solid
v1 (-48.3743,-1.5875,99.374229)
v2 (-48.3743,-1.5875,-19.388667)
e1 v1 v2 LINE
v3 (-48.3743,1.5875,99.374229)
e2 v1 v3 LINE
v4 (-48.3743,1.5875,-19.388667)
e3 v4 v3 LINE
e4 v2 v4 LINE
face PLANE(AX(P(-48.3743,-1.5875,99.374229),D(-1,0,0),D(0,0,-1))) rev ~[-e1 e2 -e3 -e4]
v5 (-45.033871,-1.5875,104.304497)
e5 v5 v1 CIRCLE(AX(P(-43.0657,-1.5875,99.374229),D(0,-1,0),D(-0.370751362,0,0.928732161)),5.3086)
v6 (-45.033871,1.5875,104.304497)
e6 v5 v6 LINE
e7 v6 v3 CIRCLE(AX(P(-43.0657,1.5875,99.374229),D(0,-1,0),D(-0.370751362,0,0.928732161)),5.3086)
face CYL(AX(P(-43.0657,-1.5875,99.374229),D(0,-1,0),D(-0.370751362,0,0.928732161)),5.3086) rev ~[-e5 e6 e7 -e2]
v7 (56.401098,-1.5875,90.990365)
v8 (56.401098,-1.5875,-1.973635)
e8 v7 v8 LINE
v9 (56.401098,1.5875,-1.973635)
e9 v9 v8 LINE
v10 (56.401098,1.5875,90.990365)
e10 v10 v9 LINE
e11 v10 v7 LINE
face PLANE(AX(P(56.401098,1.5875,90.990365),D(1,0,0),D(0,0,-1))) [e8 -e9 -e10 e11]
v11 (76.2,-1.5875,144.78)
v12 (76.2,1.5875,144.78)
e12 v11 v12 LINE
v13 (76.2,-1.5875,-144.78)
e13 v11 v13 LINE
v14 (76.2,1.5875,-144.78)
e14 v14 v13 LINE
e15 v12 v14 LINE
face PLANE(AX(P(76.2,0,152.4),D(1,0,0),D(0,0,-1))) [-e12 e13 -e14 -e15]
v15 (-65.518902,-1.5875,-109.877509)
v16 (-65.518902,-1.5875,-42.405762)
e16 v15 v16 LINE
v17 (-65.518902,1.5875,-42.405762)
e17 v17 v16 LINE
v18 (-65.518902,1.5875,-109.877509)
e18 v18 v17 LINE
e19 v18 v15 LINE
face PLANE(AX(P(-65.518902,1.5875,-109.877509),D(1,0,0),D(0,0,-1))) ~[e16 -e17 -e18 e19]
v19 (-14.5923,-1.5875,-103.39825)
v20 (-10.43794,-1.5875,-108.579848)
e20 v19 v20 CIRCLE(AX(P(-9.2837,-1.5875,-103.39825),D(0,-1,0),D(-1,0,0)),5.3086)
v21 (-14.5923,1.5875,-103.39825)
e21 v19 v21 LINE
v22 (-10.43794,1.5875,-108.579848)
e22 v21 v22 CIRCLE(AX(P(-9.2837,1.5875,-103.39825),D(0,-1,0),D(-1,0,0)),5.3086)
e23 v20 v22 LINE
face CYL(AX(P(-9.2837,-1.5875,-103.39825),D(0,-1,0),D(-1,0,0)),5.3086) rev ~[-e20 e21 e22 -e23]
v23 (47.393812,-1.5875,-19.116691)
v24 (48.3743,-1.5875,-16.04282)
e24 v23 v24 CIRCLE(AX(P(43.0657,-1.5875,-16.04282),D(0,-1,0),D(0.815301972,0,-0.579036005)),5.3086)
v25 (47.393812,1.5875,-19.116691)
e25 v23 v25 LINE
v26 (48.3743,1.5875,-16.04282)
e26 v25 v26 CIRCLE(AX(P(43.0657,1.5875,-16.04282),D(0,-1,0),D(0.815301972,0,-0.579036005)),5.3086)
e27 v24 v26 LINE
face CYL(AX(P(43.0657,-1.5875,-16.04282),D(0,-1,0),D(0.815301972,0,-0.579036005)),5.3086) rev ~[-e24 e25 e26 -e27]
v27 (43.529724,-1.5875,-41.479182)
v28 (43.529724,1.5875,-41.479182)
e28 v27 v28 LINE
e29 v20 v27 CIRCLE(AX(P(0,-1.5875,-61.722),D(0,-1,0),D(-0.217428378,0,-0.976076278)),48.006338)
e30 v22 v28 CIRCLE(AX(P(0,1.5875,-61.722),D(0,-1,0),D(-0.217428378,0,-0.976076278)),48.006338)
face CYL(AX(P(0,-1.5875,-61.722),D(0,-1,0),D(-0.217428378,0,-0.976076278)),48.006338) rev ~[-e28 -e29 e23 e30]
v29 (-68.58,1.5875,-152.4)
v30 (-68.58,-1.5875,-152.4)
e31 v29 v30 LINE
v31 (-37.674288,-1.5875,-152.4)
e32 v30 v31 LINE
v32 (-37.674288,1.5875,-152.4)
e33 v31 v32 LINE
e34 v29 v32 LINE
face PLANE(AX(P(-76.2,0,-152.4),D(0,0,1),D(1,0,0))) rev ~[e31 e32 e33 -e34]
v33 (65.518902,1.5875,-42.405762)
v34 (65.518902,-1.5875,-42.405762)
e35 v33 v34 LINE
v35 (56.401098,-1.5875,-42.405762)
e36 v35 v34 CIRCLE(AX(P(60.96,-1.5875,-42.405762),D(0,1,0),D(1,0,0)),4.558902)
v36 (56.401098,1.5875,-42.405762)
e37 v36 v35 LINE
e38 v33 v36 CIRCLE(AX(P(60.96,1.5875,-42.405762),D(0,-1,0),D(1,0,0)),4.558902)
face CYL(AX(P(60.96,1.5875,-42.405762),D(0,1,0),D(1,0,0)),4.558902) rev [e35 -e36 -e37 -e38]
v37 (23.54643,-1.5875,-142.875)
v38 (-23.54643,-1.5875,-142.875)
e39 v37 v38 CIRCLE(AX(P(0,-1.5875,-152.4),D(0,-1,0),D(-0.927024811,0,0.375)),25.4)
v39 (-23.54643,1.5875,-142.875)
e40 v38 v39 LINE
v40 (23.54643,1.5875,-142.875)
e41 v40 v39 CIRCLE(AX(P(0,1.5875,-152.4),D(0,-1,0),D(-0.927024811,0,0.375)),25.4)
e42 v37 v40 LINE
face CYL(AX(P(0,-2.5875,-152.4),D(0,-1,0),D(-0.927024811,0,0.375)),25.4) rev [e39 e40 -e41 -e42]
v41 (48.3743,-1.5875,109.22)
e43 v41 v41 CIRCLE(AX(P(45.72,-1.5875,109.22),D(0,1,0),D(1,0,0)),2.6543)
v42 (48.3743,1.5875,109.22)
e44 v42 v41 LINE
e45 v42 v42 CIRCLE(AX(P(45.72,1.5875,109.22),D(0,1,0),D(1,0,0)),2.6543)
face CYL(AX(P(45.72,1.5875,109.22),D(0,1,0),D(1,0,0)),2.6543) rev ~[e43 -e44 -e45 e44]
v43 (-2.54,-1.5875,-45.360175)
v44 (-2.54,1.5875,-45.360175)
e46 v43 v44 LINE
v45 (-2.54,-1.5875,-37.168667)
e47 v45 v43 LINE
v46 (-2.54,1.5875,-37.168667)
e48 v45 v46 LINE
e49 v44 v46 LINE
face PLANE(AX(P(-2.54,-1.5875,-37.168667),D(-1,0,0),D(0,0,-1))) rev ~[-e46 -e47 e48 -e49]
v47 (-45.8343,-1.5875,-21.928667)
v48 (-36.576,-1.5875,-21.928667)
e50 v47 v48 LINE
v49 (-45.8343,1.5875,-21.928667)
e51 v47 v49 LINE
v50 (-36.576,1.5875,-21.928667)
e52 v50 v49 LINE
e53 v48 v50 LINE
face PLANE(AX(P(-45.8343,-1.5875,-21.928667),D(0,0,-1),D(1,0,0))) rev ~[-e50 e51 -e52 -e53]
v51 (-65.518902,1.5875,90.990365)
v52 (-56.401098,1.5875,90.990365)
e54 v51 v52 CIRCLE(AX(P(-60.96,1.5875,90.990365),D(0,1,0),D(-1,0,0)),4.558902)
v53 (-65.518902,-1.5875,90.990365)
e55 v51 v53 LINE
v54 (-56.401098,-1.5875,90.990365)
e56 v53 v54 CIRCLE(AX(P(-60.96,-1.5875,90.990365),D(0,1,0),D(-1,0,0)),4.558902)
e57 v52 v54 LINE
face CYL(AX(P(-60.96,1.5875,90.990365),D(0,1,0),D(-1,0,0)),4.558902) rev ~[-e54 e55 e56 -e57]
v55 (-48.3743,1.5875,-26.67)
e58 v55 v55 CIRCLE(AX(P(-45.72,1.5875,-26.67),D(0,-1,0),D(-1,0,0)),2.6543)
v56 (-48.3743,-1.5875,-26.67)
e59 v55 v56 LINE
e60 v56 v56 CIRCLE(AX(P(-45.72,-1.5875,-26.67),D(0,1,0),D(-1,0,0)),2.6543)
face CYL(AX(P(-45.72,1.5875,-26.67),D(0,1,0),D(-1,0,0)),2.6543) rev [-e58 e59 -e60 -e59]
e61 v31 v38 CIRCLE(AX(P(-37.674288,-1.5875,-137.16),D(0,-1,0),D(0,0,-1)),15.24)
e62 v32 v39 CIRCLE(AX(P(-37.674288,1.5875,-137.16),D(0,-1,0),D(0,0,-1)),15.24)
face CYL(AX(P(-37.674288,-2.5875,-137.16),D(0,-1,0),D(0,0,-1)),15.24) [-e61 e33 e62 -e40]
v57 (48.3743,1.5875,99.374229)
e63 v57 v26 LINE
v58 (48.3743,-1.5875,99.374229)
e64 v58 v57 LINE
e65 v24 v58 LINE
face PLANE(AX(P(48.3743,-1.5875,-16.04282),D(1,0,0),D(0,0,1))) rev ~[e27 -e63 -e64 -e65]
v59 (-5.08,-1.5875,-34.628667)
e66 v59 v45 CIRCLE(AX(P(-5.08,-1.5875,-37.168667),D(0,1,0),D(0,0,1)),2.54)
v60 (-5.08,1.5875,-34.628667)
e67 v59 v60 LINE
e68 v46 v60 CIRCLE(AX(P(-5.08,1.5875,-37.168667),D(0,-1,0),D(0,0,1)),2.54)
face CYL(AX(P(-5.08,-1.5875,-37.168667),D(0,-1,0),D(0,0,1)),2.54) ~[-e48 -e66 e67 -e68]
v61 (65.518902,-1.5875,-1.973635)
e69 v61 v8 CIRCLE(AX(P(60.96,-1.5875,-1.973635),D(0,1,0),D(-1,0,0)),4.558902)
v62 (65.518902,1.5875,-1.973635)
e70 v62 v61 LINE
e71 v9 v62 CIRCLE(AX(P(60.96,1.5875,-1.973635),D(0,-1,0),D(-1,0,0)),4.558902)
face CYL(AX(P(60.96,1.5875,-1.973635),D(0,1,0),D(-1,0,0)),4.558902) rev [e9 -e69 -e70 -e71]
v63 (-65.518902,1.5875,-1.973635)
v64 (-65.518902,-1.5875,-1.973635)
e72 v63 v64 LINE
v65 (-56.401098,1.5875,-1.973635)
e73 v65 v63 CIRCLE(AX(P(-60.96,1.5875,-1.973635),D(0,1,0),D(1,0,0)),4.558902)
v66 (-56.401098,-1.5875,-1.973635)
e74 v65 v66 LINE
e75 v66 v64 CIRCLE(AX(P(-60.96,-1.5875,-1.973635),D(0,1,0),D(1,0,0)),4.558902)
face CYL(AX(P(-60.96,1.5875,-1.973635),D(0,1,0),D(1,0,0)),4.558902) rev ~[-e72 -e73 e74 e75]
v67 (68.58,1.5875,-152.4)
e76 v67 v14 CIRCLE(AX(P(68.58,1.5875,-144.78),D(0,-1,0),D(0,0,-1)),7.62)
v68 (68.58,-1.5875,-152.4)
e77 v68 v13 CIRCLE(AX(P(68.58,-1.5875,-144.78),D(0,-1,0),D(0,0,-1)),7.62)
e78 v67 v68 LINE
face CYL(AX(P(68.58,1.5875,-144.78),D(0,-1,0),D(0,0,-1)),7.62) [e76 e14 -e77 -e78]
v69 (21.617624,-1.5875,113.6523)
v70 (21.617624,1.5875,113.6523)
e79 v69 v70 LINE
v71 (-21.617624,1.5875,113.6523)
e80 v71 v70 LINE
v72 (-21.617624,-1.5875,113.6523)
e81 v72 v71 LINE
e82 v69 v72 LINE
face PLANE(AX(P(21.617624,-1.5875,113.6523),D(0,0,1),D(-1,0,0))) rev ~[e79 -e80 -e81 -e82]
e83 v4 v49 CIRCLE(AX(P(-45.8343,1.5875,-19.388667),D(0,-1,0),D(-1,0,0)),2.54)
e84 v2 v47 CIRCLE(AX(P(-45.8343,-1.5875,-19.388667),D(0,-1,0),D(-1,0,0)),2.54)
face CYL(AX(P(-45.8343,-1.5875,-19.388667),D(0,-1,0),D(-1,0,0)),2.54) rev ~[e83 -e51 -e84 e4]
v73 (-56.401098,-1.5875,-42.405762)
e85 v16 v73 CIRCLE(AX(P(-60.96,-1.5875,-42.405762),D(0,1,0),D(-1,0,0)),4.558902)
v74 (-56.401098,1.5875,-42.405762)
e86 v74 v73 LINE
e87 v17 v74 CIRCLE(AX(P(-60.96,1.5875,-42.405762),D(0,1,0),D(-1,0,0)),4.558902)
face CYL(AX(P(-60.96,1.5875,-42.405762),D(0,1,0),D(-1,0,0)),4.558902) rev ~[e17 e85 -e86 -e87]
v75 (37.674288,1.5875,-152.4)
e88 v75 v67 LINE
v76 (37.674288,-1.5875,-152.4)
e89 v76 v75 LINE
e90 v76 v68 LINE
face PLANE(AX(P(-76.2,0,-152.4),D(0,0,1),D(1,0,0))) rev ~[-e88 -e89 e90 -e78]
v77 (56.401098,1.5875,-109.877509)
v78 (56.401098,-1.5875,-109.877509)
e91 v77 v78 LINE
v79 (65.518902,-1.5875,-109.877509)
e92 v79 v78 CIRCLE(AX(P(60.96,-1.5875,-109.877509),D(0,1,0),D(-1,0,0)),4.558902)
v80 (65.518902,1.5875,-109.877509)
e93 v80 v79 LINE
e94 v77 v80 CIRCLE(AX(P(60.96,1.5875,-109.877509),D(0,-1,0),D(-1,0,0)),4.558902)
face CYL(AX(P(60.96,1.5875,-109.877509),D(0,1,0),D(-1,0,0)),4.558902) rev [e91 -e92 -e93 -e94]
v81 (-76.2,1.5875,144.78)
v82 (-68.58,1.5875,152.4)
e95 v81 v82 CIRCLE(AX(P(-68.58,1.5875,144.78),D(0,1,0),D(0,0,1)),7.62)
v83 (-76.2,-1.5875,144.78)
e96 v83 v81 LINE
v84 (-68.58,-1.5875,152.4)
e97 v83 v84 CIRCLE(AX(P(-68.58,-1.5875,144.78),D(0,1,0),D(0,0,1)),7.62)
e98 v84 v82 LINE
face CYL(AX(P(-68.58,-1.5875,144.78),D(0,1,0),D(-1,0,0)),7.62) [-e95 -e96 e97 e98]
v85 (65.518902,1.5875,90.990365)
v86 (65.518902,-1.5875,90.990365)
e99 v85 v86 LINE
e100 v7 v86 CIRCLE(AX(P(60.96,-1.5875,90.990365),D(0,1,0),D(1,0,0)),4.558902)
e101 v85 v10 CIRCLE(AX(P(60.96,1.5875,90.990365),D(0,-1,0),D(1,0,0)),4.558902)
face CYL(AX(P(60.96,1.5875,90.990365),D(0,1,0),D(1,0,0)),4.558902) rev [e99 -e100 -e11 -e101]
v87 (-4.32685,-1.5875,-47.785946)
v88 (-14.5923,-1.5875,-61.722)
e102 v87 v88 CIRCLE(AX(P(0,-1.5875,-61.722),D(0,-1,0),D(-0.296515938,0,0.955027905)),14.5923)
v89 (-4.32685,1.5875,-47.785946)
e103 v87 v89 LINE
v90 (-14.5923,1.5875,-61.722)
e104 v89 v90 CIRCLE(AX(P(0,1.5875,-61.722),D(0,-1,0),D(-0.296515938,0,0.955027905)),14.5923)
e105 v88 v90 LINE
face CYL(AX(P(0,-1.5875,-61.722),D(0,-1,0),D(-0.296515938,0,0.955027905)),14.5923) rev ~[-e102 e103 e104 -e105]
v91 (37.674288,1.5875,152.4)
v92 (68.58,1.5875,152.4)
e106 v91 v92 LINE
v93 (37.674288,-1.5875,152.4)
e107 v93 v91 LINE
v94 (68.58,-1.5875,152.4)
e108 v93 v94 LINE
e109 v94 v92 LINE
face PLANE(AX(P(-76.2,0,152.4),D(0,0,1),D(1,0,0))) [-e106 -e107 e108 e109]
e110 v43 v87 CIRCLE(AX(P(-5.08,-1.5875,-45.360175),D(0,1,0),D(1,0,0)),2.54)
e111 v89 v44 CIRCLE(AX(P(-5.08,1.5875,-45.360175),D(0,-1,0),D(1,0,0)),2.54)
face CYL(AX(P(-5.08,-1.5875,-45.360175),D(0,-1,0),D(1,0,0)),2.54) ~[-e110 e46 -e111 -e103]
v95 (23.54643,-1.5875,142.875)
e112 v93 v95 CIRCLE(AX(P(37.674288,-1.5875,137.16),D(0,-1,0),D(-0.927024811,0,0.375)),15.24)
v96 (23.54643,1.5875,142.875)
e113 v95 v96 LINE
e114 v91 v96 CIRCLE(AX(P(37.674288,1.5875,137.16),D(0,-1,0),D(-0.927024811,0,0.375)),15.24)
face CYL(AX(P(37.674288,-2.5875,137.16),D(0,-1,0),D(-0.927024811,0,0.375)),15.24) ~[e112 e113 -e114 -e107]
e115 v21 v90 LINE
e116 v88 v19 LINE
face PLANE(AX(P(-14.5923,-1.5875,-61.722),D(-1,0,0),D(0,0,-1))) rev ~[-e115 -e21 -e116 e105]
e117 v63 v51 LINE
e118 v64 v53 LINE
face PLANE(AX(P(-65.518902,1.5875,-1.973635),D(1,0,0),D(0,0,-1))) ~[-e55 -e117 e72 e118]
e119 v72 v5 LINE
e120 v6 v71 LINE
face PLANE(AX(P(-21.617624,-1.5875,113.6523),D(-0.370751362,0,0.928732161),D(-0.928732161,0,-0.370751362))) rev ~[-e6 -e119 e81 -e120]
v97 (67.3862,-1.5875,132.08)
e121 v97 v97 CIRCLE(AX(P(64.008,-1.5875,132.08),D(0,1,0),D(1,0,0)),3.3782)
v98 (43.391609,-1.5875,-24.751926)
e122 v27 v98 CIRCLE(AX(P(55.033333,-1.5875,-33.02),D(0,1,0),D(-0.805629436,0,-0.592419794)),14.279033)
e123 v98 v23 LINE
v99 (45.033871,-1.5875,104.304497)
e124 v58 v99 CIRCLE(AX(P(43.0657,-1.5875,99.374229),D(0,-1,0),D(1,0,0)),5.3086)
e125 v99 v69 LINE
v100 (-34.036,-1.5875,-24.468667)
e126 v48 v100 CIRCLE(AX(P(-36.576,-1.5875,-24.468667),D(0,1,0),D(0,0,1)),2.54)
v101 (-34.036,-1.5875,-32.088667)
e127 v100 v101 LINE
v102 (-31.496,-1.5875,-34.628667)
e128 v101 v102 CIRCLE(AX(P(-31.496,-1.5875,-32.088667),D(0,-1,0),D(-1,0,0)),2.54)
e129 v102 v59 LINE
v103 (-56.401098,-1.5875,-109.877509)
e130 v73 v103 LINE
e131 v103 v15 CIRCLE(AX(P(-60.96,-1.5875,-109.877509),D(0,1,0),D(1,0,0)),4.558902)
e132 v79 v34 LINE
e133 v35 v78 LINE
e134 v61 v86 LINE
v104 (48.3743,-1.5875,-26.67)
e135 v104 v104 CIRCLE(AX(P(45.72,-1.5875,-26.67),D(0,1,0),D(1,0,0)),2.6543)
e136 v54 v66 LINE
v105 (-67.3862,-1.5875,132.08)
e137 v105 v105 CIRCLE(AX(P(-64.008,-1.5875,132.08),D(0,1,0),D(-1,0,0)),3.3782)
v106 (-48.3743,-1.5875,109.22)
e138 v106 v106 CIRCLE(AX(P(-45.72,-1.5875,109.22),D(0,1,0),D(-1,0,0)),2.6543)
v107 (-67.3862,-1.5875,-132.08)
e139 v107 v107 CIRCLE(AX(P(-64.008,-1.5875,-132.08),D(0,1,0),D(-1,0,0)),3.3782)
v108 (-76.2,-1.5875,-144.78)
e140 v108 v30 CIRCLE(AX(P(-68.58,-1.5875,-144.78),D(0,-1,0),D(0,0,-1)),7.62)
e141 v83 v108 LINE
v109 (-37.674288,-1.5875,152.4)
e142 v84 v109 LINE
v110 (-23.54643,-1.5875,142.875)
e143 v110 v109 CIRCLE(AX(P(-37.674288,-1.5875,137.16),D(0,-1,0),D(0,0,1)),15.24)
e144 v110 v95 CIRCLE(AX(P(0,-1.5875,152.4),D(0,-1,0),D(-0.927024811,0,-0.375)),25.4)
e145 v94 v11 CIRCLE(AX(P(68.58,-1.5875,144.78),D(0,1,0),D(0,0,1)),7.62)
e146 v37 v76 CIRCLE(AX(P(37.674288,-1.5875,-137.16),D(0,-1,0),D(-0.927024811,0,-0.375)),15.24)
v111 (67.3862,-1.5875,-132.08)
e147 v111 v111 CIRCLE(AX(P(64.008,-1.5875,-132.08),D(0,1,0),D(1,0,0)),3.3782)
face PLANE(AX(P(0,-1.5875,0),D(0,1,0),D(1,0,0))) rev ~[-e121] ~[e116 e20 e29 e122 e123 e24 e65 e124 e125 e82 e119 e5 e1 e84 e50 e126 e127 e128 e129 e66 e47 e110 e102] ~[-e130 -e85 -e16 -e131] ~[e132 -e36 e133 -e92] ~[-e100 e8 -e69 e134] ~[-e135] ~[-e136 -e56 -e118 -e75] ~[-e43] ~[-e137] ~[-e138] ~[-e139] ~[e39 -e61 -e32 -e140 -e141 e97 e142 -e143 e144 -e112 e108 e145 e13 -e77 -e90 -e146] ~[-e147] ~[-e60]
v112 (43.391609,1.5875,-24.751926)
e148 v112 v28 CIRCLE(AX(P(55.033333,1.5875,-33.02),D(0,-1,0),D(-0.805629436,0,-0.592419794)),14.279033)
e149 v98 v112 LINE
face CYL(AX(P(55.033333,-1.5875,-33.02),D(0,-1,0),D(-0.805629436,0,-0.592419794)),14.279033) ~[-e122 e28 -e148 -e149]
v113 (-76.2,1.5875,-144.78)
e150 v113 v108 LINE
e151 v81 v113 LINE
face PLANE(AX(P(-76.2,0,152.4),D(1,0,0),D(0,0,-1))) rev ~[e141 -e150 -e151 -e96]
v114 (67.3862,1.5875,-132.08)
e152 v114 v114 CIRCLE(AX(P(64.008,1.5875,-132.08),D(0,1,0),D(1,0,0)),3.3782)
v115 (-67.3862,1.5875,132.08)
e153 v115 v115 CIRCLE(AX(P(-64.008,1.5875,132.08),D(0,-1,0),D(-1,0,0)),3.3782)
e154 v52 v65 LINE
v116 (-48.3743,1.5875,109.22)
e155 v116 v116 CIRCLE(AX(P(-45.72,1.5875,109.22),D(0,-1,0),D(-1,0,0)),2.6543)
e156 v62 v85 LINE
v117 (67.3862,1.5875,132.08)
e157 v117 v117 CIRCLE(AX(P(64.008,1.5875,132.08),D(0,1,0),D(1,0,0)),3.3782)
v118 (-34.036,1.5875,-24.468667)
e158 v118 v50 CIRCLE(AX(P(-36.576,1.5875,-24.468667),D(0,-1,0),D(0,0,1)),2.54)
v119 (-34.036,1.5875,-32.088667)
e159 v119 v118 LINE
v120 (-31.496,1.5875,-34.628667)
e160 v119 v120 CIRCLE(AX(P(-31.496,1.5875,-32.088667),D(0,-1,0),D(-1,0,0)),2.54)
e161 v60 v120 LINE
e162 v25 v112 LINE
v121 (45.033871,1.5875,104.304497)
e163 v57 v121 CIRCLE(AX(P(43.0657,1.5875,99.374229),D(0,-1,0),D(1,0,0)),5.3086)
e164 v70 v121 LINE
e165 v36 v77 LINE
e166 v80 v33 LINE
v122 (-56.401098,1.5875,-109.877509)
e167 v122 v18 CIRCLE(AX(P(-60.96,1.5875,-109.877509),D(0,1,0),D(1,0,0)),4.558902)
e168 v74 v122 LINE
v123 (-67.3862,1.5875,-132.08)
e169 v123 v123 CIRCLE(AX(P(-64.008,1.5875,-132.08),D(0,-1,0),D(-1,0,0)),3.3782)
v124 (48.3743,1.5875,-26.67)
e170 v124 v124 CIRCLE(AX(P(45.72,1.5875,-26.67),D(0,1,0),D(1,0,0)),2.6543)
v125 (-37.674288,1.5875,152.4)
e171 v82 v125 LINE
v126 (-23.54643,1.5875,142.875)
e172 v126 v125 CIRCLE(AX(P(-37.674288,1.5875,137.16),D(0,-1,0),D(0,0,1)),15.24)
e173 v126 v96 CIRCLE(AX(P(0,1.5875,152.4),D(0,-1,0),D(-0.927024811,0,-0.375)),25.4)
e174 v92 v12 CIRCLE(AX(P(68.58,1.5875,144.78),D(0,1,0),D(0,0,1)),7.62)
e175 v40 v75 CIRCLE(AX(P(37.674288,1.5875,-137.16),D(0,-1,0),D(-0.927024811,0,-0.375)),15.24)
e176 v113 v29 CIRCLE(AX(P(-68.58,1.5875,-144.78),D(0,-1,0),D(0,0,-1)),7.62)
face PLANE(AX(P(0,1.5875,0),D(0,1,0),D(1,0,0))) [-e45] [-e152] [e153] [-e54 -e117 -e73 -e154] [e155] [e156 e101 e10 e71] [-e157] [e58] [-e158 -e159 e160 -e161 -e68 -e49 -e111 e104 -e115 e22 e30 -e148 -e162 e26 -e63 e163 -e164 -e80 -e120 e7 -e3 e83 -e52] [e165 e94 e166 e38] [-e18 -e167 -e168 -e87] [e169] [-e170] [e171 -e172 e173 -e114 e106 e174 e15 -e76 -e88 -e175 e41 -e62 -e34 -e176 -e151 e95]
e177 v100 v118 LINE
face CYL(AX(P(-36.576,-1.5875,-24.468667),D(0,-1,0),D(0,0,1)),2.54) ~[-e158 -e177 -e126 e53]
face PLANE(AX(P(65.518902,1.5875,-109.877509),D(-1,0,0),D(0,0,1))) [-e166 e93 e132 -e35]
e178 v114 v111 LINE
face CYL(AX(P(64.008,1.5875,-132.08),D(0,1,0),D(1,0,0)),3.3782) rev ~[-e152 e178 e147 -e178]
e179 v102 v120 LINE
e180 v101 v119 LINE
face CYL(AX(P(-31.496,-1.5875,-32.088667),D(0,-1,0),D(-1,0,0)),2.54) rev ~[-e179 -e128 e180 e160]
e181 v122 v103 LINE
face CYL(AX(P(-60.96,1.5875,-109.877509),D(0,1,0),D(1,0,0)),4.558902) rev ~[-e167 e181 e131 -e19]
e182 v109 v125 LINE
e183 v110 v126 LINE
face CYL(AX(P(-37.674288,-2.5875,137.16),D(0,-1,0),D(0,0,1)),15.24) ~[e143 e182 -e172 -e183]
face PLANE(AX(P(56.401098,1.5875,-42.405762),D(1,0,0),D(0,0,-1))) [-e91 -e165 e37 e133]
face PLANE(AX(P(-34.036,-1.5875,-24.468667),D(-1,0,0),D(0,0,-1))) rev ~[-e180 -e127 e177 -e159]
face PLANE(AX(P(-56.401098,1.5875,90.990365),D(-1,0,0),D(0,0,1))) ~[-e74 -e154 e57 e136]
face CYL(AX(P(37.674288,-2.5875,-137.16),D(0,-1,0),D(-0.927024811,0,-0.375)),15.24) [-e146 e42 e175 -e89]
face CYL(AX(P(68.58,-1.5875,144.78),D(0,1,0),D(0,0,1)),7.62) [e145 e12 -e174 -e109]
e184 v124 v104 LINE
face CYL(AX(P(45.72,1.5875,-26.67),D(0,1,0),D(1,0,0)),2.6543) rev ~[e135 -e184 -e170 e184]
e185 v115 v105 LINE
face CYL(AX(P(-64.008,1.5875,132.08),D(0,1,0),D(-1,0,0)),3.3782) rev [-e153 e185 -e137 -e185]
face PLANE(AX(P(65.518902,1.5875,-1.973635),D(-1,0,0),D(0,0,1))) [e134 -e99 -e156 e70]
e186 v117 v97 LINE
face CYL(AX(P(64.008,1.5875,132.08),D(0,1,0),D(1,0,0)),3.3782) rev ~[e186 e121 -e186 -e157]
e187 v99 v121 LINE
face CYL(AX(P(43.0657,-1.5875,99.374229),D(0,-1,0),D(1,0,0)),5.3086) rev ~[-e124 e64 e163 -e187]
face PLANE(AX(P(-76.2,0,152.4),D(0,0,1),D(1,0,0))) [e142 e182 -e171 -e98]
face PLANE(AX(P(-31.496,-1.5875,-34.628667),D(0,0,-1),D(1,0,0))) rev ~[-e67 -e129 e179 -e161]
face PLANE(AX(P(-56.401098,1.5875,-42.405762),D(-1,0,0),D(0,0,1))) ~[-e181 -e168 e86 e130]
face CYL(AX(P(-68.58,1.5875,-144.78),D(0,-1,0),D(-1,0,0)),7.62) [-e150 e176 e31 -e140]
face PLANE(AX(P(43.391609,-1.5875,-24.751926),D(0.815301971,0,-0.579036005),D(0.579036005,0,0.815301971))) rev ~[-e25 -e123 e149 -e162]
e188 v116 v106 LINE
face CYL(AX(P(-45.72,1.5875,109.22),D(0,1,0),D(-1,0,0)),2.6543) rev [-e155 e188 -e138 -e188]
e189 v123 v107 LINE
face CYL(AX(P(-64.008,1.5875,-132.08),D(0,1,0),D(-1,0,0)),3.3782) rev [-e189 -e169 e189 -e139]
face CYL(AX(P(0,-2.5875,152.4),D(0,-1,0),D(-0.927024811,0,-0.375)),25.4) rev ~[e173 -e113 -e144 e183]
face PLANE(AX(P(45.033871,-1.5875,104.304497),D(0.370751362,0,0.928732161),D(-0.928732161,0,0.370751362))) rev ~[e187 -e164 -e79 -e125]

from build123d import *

# Parameters (mm, degrees)
SKETCH1_W           = 152.4
SKETCH1_H           = 304.8
BOSS_EXTRUDE1_DEPTH = 1.5875
SKETCH3_R           = 2.6543
SKETCH3_R_2         = 3.3782
CUT_EXTRUDE1_DEPTH  = 4.175
FILLET1_R           = 7.62
CUT_EXTRUDE2_START  = -4.175
CUT_EXTRUDE2_DEPTH  = 5.175
CUT_EXTRUDE3_DEPTH  = 4.175
CUT_EXTRUDE4_DEPTH  = 4.175


with BuildPart() as part:
    # Sketch1 → Boss-Extrude1 (new body, symmetric)
    with BuildSketch(Plane(origin=(0, 0, 0), x_dir=(1, 0, 0), z_dir=(0, 1, 0))):
        Rectangle(SKETCH1_W, SKETCH1_H)
    extrude(amount=BOSS_EXTRUDE1_DEPTH, both=True)

    # Sketch3 → Cut-Extrude1 (cut, through all)
    with BuildSketch(Plane(origin=(0, 1.5875, 0), x_dir=(1, 0, 0), z_dir=(0, 1, 0))):
        with Locations((45.72, -109.22)):
            Circle(SKETCH3_R)
        with Locations((45.72, 26.67)):
            Circle(SKETCH3_R)
        with Locations((64.008, 132.08)):
            Circle(SKETCH3_R_2)
        with Locations((64.008, -132.08)):
            Circle(SKETCH3_R_2)
    cut_extrude1 = extrude(amount=-CUT_EXTRUDE1_DEPTH, mode=Mode.SUBTRACT)

    # Mirror1: Cut-Extrude1 across plane
    add(cut_extrude1.mirror(Plane(origin=(0, 0, 0), x_dir=(0, 0, 1), z_dir=(1, 0, 0))), mode=Mode.SUBTRACT)

    # Fillet1
    fillet1_edges = [part.edges().sort_by_distance(p)[0] for p in [
        (76.2, 0, 152.4),
        (-76.2, 0, 152.4),
        (-76.2, 0, -152.4),
        (76.2, 0, -152.4),
    ]]
    fillet(fillet1_edges, radius=FILLET1_R)

    # Sketch4 → Cut-Extrude2 (cut)
    with BuildSketch(Plane(origin=(0, 1.5875, 0), x_dir=(1, 0, 0), z_dir=(0, 1, 0)).offset(CUT_EXTRUDE2_START)):
        with BuildLine():
            Line((-753.455657881, 152.4), (-68.58, 152.4))
            Line((-68.58, 152.4), (-37.674288314, 152.4))
            ThreePointArc((-37.674288314, 152.4), (-29.15486932, 149.796340451), (-23.546430197, 142.875))
            ThreePointArc((-23.546430197, 142.875), (0, 127), (23.546430197, 142.875))
            ThreePointArc((23.546430197, 142.875), (29.15486932, 149.796340451), (37.674288314, 152.4))
            Line((37.674288314, 152.4), (68.58, 152.4))
            Line((68.58, 152.4), (753.455657881, 152.4))
            Line((753.455657881, 152.4), (753.455657881, 1522.151315762))
            Line((753.455657881, 1522.151315762), (-753.455657881, 1522.151315762))
            Line((-753.455657881, 1522.151315762), (-753.455657881, 152.4))
        make_face()
    cut_extrude2 = extrude(amount=CUT_EXTRUDE2_DEPTH, mode=Mode.SUBTRACT)

    # Mirror2: Cut-Extrude2 across plane
    add(cut_extrude2.mirror(Plane.XY), mode=Mode.SUBTRACT)

    # Sketch7 → Cut-Extrude3 (cut, through all)
    with BuildSketch(Plane(origin=(0, 1.5875, 0), x_dir=(1, 0, 0), z_dir=(0, 1, 0))):
        with BuildLine():
            Line((65.518901805, 109.877508821), (65.518901805, 42.4057621))
            ThreePointArc((65.518901805, 42.4057621), (60.96, 37.846860295), (56.401098195, 42.4057621))
            Line((56.401098195, 42.4057621), (56.401098195, 109.877508821))
            ThreePointArc((56.401098195, 109.877508821), (60.96, 114.436410627), (65.518901805, 109.877508821))
        make_face()
        with BuildLine():
            Line((65.518901805, 1.973635461), (65.518901805, -90.990364539))
            ThreePointArc((65.518901805, -90.990364539), (60.96, -95.549266345), (56.401098195, -90.990364539))
            Line((56.401098195, -90.990364539), (56.401098195, 1.973635461))
            ThreePointArc((56.401098195, 1.973635461), (60.96, 6.532537266), (65.518901805, 1.973635461))
        make_face()
    cut_extrude3 = extrude(amount=-CUT_EXTRUDE3_DEPTH, mode=Mode.SUBTRACT)

    # Mirror3: Cut-Extrude3 across plane
    add(cut_extrude3.mirror(Plane(origin=(0, 0, 0), x_dir=(0, 0, 1), z_dir=(1, 0, 0))), mode=Mode.SUBTRACT)

    # Sketch9 → Cut-Extrude4 (cut, through all)
    with BuildSketch(Plane.XZ.offset(1.5875)):
        with BuildLine():
            Line((-14.5923, -61.722), (-14.5923, -103.398249639))
            ThreePointArc((-14.5923, -103.398249639), (-13.42547703, -106.718929839), (-10.437940285, -108.579848169))
            ThreePointArc((-10.437940285, -108.579848169), (37.40844001, -91.808826826), (43.529723769, -41.479181989))
            ThreePointArc((43.529723769, -41.479181989), (40.754786716, -33.137895831), (43.391609306, -24.751925581))
            Line((43.391609306, -24.751925581), (47.393812046, -19.116690889))
            ThreePointArc((47.393812046, -19.116690889), (48.123241377, -17.656049777), (48.3743, -16.042820352))
            Line((48.3743, -16.042820352), (48.3743, 99.374229362))
            ThreePointArc((48.3743, 99.374229362), (47.460552946, 102.351896493), (45.03387068, 104.304496914))
            Line((45.03387068, 104.304496914), (21.617623949, 113.6523))
            Line((21.617623949, 113.6523), (-21.617623949, 113.6523))
            Line((-21.617623949, 113.6523), (-45.03387068, 104.304496914))
            ThreePointArc((-45.03387068, 104.304496914), (-47.460552946, 102.351896493), (-48.3743, 99.374229362))
            Line((-48.3743, 99.374229362), (-48.3743, -19.388666667))
            ThreePointArc((-48.3743, -19.388666667), (-47.630351224, -21.184717891), (-45.8343, -21.928666667))
            Line((-45.8343, -21.928666667), (-36.576, -21.928666667))
            ThreePointArc((-36.576, -21.928666667), (-34.779948776, -22.672615442), (-34.036, -24.468666667))
            Line((-34.036, -24.468666667), (-34.036, -32.088666667))
            ThreePointArc((-34.036, -32.088666667), (-33.292051224, -33.884717891), (-31.496, -34.628666667))
            Line((-31.496, -34.628666667), (-5.08, -34.628666667))
            ThreePointArc((-5.08, -34.628666667), (-3.283948776, -35.372615442), (-2.54, -37.168666667))
            Line((-2.54, -37.168666667), (-2.54, -45.360175429))
            ThreePointArc((-2.54, -45.360175429), (-3.034932492, -46.866594656), (-4.326849518, -47.785946307))
            ThreePointArc((-4.326849518, -47.785946307), (-11.748912833, -53.06762154), (-14.5923, -61.722))
        make_face()
    extrude(amount=-CUT_EXTRUDE4_DEPTH, mode=Mode.SUBTRACT)


solid = part.part
